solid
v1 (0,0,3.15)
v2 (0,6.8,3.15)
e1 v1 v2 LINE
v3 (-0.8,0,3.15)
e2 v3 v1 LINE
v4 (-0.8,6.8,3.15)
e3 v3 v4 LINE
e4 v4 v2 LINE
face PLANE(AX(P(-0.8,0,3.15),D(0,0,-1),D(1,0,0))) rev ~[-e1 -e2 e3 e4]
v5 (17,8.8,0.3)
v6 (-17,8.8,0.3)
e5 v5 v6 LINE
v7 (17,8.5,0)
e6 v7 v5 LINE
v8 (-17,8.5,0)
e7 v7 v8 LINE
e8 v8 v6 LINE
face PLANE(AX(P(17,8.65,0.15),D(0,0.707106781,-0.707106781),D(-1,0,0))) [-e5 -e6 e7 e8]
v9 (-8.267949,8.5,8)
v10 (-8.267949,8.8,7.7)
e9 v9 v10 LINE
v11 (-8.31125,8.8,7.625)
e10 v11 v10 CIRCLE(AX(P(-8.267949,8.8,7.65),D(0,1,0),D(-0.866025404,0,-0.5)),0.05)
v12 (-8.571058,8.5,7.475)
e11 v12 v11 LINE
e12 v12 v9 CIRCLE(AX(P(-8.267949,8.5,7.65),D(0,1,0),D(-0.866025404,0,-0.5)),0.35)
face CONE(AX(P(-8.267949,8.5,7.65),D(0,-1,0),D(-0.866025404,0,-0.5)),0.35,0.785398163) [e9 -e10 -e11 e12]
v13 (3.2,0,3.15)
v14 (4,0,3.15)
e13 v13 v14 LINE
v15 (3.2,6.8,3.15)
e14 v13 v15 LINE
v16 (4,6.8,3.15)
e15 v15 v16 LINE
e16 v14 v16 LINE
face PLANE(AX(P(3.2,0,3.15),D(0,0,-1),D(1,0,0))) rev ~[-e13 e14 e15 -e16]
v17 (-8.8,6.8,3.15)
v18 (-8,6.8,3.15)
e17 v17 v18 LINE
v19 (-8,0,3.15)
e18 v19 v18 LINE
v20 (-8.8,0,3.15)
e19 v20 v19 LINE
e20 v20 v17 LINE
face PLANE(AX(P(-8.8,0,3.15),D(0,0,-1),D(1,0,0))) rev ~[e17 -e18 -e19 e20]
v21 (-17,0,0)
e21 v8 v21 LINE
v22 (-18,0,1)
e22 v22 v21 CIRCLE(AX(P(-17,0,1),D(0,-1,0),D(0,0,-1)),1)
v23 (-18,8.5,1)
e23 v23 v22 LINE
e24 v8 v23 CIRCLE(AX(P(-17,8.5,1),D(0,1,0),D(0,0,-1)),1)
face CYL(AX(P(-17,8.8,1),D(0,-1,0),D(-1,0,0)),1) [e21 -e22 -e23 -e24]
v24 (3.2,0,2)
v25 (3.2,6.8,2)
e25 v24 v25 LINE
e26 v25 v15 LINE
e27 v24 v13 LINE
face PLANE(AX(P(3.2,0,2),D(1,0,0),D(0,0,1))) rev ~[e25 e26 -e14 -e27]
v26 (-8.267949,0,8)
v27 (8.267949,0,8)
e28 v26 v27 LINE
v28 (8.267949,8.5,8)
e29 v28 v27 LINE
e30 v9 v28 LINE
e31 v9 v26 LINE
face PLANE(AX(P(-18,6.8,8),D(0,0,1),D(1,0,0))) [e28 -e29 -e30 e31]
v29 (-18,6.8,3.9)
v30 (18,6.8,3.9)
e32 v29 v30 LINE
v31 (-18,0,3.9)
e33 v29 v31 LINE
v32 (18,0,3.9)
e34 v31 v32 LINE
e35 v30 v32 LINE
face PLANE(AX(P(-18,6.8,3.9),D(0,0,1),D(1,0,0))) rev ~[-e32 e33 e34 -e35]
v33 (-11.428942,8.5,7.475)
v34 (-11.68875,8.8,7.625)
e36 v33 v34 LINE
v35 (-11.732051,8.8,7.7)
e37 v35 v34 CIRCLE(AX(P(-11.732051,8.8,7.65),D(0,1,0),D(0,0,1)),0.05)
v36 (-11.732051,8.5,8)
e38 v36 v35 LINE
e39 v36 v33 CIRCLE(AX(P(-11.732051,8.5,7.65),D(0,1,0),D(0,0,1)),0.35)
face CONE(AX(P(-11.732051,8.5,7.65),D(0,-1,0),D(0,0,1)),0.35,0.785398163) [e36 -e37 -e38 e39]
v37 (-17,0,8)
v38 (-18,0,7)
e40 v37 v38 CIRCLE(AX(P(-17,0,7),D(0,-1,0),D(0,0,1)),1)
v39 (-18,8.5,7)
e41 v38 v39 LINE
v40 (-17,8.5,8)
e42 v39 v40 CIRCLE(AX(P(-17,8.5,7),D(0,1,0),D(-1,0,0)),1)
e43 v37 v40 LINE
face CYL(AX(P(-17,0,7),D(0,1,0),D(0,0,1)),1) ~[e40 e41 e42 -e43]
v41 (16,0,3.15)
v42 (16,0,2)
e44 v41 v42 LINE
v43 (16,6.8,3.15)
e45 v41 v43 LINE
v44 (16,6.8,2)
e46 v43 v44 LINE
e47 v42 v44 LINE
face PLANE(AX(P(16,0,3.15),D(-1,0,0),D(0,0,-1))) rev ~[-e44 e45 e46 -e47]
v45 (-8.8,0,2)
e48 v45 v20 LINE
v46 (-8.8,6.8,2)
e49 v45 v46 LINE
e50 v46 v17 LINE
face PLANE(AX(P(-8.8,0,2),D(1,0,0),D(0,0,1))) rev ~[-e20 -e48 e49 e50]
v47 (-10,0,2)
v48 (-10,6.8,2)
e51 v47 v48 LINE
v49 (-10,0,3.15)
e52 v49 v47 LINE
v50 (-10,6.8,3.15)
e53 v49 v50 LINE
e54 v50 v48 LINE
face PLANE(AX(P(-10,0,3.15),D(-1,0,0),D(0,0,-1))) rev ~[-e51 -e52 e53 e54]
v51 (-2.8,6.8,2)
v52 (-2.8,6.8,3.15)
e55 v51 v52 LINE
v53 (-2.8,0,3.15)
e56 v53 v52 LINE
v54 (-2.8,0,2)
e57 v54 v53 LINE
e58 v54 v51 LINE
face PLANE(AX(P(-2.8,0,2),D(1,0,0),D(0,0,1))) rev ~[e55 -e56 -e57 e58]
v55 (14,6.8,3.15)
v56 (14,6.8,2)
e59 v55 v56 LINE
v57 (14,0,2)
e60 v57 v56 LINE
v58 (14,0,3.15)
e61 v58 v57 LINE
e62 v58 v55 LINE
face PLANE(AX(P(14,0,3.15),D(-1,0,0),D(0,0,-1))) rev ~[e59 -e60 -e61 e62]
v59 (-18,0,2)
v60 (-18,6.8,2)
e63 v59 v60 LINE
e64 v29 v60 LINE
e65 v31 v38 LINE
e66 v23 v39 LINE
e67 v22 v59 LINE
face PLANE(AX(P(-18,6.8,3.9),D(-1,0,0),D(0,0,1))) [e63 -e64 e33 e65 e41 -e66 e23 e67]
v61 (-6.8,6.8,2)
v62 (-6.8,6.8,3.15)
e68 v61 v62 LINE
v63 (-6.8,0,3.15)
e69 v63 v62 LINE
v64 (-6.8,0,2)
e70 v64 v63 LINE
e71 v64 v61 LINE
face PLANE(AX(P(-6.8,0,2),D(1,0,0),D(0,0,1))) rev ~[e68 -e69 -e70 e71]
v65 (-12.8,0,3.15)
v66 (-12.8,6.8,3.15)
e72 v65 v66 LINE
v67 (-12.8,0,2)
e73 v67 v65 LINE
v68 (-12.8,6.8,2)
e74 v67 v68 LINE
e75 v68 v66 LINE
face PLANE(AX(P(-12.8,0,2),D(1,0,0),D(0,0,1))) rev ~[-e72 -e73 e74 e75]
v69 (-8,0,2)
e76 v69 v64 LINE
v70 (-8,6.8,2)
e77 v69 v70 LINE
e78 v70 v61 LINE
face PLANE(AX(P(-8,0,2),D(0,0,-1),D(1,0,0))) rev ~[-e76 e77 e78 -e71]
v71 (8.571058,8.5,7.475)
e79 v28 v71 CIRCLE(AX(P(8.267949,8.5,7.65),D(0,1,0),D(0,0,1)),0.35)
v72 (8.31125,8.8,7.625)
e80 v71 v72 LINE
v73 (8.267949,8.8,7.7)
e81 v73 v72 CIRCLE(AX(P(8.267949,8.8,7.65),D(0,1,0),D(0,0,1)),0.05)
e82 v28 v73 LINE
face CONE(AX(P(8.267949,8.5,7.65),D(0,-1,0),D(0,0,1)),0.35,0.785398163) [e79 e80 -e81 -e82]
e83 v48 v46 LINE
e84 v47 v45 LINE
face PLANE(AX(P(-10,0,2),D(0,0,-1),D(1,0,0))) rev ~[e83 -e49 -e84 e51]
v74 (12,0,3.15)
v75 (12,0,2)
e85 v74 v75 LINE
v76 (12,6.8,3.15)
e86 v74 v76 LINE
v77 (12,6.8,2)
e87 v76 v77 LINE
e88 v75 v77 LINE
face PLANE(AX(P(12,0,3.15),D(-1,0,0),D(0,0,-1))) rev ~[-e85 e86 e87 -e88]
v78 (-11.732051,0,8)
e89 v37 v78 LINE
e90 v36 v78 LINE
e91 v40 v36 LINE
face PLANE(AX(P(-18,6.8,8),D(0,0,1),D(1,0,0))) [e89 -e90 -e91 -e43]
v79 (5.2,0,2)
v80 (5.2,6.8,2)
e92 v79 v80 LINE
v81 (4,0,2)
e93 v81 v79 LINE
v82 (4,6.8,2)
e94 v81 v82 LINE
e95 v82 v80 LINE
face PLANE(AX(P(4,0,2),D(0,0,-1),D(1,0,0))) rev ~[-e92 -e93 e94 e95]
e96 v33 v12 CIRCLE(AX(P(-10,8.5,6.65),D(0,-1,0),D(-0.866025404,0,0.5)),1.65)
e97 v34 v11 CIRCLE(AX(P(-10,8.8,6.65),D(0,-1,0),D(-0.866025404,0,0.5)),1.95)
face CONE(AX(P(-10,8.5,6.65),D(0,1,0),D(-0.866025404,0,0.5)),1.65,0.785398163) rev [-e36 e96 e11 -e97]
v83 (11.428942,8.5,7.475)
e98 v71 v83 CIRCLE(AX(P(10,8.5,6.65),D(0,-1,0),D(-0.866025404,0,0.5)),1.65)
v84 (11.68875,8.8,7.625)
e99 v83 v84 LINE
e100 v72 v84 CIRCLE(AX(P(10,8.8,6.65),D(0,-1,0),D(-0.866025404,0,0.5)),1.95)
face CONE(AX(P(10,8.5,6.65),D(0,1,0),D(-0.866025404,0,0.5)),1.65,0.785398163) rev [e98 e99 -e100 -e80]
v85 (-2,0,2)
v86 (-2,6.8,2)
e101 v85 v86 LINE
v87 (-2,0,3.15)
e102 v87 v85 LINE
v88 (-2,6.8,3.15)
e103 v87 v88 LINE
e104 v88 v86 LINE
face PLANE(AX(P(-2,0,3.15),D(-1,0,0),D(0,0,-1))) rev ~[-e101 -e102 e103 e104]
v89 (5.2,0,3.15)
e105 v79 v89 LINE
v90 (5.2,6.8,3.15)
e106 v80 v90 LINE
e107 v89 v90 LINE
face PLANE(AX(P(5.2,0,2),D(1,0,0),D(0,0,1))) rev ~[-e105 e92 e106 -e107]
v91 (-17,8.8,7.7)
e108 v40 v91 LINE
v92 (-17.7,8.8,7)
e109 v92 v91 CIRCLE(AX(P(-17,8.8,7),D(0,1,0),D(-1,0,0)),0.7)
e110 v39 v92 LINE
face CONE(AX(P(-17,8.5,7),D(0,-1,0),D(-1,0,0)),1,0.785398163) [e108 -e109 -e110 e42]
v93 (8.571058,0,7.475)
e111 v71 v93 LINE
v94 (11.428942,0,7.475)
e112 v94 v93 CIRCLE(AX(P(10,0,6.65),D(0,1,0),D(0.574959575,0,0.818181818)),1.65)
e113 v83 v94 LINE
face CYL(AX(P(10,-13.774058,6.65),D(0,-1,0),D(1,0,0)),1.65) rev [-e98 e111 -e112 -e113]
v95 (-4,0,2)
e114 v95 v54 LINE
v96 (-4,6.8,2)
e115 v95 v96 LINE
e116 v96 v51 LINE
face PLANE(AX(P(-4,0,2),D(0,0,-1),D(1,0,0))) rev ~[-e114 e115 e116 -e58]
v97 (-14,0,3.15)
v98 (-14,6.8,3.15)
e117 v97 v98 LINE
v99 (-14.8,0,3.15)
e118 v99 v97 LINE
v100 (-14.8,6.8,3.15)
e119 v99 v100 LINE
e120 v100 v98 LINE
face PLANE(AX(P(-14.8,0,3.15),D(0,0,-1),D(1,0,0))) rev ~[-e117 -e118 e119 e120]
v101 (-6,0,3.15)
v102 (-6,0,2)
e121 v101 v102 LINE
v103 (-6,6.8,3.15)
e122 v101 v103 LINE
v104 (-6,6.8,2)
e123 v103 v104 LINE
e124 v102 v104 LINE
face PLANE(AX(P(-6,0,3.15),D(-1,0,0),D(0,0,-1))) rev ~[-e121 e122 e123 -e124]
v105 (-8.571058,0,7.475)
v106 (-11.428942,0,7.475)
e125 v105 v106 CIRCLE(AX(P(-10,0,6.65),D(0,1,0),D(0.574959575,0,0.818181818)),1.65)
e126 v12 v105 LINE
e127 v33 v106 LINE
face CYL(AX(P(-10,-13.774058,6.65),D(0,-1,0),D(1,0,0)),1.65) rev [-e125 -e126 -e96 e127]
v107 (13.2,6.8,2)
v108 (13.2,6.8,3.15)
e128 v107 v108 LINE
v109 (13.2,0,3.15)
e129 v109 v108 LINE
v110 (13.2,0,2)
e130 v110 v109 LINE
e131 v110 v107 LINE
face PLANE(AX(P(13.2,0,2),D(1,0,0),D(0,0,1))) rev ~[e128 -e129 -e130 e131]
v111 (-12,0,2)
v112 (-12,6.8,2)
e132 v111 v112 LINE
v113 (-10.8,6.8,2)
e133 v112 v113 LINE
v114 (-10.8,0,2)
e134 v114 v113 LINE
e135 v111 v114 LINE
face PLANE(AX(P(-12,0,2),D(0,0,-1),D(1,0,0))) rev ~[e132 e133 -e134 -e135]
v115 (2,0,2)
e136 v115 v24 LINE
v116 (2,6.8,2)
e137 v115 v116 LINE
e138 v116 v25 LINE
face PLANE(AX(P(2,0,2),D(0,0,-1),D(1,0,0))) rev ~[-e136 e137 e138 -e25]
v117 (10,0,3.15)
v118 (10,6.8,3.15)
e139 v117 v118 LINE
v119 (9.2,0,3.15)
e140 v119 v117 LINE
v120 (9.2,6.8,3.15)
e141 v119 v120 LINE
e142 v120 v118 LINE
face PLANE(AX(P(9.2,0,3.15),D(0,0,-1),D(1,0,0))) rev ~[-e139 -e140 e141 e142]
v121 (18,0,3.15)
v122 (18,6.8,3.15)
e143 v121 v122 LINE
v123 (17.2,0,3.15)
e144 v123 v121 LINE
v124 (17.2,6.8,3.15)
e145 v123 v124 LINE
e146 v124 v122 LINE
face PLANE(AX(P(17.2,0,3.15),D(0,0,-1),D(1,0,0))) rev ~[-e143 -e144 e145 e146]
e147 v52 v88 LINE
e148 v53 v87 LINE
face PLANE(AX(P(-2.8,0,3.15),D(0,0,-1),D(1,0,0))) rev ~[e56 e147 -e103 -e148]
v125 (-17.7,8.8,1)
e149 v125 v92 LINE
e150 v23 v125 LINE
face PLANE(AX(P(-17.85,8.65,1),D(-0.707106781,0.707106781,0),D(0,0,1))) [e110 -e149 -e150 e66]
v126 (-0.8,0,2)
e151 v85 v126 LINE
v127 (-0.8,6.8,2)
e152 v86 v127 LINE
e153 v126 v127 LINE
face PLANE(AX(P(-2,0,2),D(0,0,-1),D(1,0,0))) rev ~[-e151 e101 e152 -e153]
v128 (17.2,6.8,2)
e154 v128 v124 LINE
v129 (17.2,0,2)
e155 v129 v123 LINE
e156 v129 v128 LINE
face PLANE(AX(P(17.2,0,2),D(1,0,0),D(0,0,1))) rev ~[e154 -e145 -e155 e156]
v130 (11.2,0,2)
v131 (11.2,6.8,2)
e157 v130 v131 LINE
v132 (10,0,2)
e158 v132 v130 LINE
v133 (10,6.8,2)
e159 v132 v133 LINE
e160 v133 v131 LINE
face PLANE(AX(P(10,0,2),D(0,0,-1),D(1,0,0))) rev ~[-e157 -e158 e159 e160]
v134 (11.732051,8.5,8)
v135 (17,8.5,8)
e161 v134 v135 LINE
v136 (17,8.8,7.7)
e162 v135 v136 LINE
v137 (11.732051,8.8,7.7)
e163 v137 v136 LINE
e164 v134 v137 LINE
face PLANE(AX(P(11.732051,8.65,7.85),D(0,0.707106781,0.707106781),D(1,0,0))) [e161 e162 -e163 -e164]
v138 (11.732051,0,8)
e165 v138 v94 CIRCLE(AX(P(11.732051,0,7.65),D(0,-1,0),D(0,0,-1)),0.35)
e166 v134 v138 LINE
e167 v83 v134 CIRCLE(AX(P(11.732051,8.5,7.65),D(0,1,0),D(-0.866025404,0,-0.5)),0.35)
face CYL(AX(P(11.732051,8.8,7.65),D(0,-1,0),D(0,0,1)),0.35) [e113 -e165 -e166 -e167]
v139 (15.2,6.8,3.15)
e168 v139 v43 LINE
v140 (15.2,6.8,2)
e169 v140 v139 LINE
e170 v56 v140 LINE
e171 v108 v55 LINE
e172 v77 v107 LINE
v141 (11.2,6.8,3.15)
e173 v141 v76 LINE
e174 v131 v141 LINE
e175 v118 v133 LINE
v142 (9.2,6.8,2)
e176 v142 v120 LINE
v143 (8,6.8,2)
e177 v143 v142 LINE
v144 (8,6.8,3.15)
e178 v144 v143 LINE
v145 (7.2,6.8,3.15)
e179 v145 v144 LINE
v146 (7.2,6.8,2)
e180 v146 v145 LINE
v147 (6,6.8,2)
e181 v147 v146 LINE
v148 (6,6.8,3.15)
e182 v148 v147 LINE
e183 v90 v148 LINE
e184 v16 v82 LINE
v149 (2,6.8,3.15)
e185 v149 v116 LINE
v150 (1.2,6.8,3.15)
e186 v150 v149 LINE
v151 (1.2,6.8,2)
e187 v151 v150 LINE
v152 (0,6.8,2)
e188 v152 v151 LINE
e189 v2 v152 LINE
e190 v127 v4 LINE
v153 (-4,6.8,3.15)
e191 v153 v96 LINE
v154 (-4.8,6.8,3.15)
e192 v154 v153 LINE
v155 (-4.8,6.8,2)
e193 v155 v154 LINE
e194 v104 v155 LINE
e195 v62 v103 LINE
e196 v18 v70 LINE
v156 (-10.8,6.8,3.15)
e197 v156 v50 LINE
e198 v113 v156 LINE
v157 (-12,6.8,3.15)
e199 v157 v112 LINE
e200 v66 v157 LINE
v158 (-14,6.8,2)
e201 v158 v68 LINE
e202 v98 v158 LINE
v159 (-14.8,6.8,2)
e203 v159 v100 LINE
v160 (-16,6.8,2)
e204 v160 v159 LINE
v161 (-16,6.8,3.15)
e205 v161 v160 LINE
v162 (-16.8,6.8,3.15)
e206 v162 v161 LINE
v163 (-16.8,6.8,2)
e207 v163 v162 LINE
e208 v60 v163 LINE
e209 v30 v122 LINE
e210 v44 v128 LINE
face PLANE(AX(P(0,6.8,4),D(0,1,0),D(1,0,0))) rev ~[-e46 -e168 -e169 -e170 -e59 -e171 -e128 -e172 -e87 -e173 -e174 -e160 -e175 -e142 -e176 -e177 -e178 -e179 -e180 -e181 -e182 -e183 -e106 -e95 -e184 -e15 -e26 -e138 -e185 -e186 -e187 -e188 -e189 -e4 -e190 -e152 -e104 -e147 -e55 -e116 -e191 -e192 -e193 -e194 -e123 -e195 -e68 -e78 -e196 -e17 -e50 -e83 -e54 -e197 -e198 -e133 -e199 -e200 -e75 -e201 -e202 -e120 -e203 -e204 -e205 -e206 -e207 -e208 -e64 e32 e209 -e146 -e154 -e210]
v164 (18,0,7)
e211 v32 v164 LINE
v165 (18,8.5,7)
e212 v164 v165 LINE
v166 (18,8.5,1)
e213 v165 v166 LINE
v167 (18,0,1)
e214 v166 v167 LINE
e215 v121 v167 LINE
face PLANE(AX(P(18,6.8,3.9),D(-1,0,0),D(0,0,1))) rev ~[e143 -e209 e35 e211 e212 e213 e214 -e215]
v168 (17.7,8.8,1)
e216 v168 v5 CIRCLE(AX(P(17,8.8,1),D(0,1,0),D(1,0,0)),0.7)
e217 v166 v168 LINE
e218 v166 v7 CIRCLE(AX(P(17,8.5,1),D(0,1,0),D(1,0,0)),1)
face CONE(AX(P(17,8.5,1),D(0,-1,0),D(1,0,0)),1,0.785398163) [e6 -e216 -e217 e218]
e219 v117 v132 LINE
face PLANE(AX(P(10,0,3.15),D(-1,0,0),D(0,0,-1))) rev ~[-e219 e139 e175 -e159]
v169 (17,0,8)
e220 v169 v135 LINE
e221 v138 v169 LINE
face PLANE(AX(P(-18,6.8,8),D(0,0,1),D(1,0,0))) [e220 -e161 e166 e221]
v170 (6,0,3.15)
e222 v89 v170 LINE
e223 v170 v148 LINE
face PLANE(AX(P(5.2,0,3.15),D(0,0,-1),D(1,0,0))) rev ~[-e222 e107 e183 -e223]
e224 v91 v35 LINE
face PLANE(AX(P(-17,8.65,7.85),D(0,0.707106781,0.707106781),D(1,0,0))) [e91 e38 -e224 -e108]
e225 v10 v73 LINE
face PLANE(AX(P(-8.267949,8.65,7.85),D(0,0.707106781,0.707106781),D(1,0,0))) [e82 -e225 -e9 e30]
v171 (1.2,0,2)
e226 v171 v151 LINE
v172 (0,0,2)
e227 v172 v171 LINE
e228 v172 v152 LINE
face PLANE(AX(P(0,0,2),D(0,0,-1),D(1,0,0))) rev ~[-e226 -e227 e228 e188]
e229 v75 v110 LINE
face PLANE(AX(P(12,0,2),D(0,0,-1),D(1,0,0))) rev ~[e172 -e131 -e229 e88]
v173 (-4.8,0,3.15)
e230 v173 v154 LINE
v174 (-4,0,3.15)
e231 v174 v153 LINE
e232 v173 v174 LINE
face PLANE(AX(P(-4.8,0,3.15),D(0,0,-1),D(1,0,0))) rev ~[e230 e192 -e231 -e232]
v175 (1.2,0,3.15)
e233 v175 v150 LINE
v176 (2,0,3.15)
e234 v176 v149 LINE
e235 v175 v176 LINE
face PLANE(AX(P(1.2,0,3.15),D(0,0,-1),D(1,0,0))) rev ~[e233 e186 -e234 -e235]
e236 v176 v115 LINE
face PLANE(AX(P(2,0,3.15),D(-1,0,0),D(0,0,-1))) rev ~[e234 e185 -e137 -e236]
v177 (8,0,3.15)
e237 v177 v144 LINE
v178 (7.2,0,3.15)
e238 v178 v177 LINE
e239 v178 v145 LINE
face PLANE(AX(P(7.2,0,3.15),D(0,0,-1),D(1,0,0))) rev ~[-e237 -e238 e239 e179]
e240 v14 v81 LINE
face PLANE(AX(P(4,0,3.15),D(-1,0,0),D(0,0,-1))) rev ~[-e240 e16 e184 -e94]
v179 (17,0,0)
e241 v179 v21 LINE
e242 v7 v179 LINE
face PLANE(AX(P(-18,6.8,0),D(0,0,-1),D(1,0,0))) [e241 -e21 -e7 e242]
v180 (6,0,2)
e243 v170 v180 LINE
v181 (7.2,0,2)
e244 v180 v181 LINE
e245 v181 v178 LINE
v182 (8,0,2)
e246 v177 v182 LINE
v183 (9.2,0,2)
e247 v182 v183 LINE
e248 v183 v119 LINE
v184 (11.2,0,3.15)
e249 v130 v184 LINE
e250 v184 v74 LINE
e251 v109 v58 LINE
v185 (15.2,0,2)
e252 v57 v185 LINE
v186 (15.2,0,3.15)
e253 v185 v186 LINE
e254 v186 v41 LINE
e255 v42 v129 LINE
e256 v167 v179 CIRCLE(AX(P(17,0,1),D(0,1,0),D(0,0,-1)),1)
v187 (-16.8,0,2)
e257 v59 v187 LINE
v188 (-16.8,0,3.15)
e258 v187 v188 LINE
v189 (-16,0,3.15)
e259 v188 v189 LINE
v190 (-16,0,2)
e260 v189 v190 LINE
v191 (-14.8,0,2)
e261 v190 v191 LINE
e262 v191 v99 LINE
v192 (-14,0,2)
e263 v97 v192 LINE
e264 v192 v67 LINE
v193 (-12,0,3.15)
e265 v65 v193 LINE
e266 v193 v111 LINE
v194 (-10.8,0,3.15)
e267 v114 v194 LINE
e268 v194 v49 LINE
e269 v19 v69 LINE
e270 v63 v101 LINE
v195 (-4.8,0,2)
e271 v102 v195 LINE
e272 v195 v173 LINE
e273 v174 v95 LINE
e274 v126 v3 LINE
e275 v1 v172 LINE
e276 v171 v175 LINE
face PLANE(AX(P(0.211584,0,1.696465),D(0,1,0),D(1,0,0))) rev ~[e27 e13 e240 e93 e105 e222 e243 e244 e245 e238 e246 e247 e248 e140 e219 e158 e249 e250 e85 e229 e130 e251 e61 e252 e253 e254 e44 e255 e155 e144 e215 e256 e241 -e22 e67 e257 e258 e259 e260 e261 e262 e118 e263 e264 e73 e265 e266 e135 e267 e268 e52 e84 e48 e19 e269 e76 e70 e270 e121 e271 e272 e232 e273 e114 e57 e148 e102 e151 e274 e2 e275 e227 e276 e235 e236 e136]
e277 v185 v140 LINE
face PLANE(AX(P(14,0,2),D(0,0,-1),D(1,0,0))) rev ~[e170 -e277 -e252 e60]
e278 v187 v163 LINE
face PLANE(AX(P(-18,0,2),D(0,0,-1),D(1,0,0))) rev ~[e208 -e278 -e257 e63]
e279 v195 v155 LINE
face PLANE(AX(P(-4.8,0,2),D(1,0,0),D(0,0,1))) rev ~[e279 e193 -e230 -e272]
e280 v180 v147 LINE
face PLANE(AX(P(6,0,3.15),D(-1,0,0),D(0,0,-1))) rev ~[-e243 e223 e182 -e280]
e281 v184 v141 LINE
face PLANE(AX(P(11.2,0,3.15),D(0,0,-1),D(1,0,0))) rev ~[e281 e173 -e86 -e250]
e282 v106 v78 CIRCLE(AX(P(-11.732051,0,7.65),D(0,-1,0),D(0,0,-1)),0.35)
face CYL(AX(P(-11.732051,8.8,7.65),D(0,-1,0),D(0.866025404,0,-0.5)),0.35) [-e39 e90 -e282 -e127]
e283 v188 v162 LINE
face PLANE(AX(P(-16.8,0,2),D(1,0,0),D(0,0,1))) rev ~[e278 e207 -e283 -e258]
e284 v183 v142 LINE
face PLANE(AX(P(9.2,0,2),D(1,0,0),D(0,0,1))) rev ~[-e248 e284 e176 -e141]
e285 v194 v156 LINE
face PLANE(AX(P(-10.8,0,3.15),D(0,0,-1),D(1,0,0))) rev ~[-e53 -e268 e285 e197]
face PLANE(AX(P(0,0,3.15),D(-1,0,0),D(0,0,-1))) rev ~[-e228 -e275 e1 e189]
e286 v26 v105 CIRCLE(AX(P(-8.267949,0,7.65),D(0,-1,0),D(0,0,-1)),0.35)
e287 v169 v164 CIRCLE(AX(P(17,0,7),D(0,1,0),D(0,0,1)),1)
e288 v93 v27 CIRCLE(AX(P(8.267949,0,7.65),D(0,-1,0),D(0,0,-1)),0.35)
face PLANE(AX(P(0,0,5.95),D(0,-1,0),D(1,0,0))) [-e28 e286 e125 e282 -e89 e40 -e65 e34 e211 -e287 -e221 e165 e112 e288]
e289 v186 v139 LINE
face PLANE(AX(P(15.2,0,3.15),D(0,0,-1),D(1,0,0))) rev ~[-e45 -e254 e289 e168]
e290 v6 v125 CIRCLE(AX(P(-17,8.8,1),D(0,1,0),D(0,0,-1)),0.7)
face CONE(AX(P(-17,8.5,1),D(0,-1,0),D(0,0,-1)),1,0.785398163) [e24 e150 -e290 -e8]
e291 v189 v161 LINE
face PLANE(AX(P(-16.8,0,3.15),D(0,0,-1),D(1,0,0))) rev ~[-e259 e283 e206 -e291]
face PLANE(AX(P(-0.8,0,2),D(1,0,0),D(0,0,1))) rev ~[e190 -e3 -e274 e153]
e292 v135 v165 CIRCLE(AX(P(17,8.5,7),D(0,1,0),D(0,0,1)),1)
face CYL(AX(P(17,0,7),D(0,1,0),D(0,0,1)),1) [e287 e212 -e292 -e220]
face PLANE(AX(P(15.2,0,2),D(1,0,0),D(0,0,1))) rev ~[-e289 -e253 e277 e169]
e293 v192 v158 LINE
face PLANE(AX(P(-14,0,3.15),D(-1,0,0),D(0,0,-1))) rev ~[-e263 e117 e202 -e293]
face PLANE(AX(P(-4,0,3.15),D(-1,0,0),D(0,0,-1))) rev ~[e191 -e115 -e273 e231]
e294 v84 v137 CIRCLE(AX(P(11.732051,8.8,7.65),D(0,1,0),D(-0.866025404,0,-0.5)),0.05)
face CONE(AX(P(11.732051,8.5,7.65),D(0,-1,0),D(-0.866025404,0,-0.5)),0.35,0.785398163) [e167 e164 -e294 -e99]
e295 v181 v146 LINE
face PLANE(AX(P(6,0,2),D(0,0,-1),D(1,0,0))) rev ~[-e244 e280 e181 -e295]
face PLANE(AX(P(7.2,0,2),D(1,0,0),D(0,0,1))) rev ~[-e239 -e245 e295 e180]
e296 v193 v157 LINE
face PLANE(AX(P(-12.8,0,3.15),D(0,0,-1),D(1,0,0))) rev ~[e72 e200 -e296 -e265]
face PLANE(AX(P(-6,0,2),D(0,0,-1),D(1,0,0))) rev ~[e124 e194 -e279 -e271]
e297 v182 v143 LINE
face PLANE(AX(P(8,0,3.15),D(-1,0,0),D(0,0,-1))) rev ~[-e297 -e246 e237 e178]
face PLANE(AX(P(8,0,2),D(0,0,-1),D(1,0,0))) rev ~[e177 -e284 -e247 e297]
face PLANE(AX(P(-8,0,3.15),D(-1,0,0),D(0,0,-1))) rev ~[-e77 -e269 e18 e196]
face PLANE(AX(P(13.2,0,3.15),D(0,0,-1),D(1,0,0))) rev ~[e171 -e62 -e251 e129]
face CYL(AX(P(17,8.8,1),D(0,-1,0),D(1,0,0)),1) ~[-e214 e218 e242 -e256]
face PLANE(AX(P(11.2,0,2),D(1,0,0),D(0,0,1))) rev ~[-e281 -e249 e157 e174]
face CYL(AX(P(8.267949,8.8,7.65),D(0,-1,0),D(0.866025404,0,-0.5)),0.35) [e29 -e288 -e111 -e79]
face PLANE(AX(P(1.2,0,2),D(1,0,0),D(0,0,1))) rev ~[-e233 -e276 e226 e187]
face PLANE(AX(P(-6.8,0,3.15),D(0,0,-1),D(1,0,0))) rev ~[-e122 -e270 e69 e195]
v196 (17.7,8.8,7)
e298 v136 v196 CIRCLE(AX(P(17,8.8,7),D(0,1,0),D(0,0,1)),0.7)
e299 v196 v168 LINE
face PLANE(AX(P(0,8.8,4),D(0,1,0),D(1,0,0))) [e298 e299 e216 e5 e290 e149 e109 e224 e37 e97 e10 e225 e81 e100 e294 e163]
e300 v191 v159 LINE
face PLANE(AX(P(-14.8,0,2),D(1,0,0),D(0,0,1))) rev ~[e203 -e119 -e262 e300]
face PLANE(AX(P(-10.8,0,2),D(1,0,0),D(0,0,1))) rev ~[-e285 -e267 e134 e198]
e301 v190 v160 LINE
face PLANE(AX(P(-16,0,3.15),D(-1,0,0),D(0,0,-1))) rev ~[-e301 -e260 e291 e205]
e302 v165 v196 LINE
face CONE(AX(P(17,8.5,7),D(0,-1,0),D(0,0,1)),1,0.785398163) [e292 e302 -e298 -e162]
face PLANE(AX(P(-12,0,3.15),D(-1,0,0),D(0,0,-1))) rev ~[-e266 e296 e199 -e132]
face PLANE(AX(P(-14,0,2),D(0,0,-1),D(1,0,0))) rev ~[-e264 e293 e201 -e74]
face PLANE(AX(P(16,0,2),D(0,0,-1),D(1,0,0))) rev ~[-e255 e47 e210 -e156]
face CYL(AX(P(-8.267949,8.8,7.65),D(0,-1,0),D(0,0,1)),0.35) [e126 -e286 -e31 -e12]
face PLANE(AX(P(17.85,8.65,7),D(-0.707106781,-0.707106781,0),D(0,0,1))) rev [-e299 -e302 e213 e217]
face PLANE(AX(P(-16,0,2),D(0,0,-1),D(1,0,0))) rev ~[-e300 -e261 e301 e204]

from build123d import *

# Parameters (mm, degrees)
BOSS_EXTRUDE1_DEPTH     = 6.8
SKETCH4_W               = 36
SKETCH4_H               = 8
BOSS_EXTRUDE2_DEPTH     = 2
SKETCH5_W               = 36
SKETCH5_H               = 4.1
BOSS_EXTRUDE3_DEPTH     = 6.8
CUT_EXTRUDE1_DEPTH      = 22.574058496
CUT_EXTRUDE1_DEPTH_BACK = 22.574058496
SKETCH6_R               = 1.65
FILLET3_R               = 0.35
FILLET4_R               = 1
CHAMFER1_SIZE           = 0.3


with BuildPart() as part:
    # Sketch1 → Boss-Extrude1 (new body)
    with BuildSketch(Plane(origin=(0, 0, 0), x_dir=(1, 0, 0), z_dir=(0, 1, 0))):
        Polygon((0, 0), (-18, 0), (-18, -2), (-16.8, -2), (-16.8, -3.15), (-16, -3.15), (-16, -2), (-14.8, -2), (-14.8, -3.15), (-14, -3.15), (-14, -2), (-12.8, -2), (-12.8, -3.15), (-12, -3.15), (-12, -2), (-10.8, -2), (-10.8, -3.15), (-10, -3.15), (-10, -2), (-8.8, -2), (-8.8, -3.15), (-8, -3.15), (-8, -2), (-6.8, -2), (-6.8, -3.15), (-6, -3.15), (-6, -2), (-4.8, -2), (-4.8, -3.15), (-4, -3.15), (-4, -2), (-2.8, -2), (-2.8, -3.15), (-2, -3.15), (-2, -2), (-0.8, -2), (-0.8, -3.15), (0, -3.15), (0, -2), (1.2, -2), (1.2, -3.15), (2, -3.15), (2, -2), (3.2, -2), (3.2, -3.15), (4, -3.15), (4, -2), (5.2, -2), (5.2, -3.15), (6, -3.15), (6, -2), (7.2, -2), (7.2, -3.15), (8, -3.15), (8, -2), (9.2, -2), (9.2, -3.15), (10, -3.15), (10, -2), (11.2, -2), (11.2, -3.15), (12, -3.15), (12, -2), (13.2, -2), (13.2, -3.15), (14, -3.15), (14, -2), (15.2, -2), (15.2, -3.15), (16, -3.15), (16, -2), (17.2, -2), (17.2, -3.15), (18, -3.15), (18, -2), (18, 0), align=None)
    extrude(amount=BOSS_EXTRUDE1_DEPTH)

    # Sketch4 → Boss-Extrude2 (add)
    with BuildSketch(Plane(origin=(0, 6.8, 0), x_dir=(1, 0, 0), z_dir=(0, 1, 0))):
        with Locations((0, -4)):
            Rectangle(SKETCH4_W, SKETCH4_H)
    extrude(amount=BOSS_EXTRUDE2_DEPTH)

    # Sketch5 → Boss-Extrude3 (add)
    with BuildSketch(Plane.XZ.offset(-6.8)):
        with Locations((0, 5.95)):
            Rectangle(SKETCH5_W, SKETCH5_H)
    extrude(amount=BOSS_EXTRUDE3_DEPTH)

    # Sketch6 → Cut-Extrude1 (cut, two sides: drawn at the far end of the back side and taken through both)
    with BuildSketch(Plane(origin=(0, 8.8, 0), x_dir=(1, 0, 0), z_dir=(0, 1, 0)).offset(-CUT_EXTRUDE1_DEPTH_BACK)):
        with Locations((-10, -6.65)):
            Circle(SKETCH6_R)
        with Locations((10, -6.65)):
            Circle(SKETCH6_R)
    extrude(amount=CUT_EXTRUDE1_DEPTH + CUT_EXTRUDE1_DEPTH_BACK, mode=Mode.SUBTRACT)

    # Fillet3
    fillet3_edges = [part.edges().sort_by_distance(p)[0] for p in [
        (9.051316702, 4.4, 8),
        (10.948683298, 4.4, 8),
        (-10.948683298, 4.4, 8),
        (-9.051316702, 4.4, 8),
    ]]
    fillet(fillet3_edges, radius=FILLET3_R)

    # Fillet4
    fillet4_edges = [part.edges().sort_by_distance(p)[0] for p in [
        (18, 4.4, 0),
        (-18, 4.4, 0),
        (-18, 4.4, 8),
        (18, 4.4, 8),
    ]]
    fillet(fillet4_edges, radius=FILLET4_R)

    # Chamfer1
    chamfer1_edges = [part.edges().sort_by_distance(p)[0] for p in [
        (14.366025404, 8.8, 8),
        (10, 8.8, 5),
        (-10, 8.8, 5),
        (0, 8.8, 8),
        (-11.428941916, 8.8, 7.825),
        (-8.571058084, 8.8, 7.825),
        (8.571058084, 8.8, 7.825),
        (11.428941916, 8.8, 7.825),
        (-14.366025404, 8.8, 8),
        (-18, 8.8, 4),
        (18, 8.8, 4),
        (0, 8.8, 0),
        (-17.707106781, 8.8, 0.292893219),
        (17.707106781, 8.8, 0.292893219),
        (17.707106781, 8.8, 7.707106781),
        (-17.707106781, 8.8, 7.707106781),
    ]]
    chamfer(chamfer1_edges, length=CHAMFER1_SIZE)


solid = part.part
